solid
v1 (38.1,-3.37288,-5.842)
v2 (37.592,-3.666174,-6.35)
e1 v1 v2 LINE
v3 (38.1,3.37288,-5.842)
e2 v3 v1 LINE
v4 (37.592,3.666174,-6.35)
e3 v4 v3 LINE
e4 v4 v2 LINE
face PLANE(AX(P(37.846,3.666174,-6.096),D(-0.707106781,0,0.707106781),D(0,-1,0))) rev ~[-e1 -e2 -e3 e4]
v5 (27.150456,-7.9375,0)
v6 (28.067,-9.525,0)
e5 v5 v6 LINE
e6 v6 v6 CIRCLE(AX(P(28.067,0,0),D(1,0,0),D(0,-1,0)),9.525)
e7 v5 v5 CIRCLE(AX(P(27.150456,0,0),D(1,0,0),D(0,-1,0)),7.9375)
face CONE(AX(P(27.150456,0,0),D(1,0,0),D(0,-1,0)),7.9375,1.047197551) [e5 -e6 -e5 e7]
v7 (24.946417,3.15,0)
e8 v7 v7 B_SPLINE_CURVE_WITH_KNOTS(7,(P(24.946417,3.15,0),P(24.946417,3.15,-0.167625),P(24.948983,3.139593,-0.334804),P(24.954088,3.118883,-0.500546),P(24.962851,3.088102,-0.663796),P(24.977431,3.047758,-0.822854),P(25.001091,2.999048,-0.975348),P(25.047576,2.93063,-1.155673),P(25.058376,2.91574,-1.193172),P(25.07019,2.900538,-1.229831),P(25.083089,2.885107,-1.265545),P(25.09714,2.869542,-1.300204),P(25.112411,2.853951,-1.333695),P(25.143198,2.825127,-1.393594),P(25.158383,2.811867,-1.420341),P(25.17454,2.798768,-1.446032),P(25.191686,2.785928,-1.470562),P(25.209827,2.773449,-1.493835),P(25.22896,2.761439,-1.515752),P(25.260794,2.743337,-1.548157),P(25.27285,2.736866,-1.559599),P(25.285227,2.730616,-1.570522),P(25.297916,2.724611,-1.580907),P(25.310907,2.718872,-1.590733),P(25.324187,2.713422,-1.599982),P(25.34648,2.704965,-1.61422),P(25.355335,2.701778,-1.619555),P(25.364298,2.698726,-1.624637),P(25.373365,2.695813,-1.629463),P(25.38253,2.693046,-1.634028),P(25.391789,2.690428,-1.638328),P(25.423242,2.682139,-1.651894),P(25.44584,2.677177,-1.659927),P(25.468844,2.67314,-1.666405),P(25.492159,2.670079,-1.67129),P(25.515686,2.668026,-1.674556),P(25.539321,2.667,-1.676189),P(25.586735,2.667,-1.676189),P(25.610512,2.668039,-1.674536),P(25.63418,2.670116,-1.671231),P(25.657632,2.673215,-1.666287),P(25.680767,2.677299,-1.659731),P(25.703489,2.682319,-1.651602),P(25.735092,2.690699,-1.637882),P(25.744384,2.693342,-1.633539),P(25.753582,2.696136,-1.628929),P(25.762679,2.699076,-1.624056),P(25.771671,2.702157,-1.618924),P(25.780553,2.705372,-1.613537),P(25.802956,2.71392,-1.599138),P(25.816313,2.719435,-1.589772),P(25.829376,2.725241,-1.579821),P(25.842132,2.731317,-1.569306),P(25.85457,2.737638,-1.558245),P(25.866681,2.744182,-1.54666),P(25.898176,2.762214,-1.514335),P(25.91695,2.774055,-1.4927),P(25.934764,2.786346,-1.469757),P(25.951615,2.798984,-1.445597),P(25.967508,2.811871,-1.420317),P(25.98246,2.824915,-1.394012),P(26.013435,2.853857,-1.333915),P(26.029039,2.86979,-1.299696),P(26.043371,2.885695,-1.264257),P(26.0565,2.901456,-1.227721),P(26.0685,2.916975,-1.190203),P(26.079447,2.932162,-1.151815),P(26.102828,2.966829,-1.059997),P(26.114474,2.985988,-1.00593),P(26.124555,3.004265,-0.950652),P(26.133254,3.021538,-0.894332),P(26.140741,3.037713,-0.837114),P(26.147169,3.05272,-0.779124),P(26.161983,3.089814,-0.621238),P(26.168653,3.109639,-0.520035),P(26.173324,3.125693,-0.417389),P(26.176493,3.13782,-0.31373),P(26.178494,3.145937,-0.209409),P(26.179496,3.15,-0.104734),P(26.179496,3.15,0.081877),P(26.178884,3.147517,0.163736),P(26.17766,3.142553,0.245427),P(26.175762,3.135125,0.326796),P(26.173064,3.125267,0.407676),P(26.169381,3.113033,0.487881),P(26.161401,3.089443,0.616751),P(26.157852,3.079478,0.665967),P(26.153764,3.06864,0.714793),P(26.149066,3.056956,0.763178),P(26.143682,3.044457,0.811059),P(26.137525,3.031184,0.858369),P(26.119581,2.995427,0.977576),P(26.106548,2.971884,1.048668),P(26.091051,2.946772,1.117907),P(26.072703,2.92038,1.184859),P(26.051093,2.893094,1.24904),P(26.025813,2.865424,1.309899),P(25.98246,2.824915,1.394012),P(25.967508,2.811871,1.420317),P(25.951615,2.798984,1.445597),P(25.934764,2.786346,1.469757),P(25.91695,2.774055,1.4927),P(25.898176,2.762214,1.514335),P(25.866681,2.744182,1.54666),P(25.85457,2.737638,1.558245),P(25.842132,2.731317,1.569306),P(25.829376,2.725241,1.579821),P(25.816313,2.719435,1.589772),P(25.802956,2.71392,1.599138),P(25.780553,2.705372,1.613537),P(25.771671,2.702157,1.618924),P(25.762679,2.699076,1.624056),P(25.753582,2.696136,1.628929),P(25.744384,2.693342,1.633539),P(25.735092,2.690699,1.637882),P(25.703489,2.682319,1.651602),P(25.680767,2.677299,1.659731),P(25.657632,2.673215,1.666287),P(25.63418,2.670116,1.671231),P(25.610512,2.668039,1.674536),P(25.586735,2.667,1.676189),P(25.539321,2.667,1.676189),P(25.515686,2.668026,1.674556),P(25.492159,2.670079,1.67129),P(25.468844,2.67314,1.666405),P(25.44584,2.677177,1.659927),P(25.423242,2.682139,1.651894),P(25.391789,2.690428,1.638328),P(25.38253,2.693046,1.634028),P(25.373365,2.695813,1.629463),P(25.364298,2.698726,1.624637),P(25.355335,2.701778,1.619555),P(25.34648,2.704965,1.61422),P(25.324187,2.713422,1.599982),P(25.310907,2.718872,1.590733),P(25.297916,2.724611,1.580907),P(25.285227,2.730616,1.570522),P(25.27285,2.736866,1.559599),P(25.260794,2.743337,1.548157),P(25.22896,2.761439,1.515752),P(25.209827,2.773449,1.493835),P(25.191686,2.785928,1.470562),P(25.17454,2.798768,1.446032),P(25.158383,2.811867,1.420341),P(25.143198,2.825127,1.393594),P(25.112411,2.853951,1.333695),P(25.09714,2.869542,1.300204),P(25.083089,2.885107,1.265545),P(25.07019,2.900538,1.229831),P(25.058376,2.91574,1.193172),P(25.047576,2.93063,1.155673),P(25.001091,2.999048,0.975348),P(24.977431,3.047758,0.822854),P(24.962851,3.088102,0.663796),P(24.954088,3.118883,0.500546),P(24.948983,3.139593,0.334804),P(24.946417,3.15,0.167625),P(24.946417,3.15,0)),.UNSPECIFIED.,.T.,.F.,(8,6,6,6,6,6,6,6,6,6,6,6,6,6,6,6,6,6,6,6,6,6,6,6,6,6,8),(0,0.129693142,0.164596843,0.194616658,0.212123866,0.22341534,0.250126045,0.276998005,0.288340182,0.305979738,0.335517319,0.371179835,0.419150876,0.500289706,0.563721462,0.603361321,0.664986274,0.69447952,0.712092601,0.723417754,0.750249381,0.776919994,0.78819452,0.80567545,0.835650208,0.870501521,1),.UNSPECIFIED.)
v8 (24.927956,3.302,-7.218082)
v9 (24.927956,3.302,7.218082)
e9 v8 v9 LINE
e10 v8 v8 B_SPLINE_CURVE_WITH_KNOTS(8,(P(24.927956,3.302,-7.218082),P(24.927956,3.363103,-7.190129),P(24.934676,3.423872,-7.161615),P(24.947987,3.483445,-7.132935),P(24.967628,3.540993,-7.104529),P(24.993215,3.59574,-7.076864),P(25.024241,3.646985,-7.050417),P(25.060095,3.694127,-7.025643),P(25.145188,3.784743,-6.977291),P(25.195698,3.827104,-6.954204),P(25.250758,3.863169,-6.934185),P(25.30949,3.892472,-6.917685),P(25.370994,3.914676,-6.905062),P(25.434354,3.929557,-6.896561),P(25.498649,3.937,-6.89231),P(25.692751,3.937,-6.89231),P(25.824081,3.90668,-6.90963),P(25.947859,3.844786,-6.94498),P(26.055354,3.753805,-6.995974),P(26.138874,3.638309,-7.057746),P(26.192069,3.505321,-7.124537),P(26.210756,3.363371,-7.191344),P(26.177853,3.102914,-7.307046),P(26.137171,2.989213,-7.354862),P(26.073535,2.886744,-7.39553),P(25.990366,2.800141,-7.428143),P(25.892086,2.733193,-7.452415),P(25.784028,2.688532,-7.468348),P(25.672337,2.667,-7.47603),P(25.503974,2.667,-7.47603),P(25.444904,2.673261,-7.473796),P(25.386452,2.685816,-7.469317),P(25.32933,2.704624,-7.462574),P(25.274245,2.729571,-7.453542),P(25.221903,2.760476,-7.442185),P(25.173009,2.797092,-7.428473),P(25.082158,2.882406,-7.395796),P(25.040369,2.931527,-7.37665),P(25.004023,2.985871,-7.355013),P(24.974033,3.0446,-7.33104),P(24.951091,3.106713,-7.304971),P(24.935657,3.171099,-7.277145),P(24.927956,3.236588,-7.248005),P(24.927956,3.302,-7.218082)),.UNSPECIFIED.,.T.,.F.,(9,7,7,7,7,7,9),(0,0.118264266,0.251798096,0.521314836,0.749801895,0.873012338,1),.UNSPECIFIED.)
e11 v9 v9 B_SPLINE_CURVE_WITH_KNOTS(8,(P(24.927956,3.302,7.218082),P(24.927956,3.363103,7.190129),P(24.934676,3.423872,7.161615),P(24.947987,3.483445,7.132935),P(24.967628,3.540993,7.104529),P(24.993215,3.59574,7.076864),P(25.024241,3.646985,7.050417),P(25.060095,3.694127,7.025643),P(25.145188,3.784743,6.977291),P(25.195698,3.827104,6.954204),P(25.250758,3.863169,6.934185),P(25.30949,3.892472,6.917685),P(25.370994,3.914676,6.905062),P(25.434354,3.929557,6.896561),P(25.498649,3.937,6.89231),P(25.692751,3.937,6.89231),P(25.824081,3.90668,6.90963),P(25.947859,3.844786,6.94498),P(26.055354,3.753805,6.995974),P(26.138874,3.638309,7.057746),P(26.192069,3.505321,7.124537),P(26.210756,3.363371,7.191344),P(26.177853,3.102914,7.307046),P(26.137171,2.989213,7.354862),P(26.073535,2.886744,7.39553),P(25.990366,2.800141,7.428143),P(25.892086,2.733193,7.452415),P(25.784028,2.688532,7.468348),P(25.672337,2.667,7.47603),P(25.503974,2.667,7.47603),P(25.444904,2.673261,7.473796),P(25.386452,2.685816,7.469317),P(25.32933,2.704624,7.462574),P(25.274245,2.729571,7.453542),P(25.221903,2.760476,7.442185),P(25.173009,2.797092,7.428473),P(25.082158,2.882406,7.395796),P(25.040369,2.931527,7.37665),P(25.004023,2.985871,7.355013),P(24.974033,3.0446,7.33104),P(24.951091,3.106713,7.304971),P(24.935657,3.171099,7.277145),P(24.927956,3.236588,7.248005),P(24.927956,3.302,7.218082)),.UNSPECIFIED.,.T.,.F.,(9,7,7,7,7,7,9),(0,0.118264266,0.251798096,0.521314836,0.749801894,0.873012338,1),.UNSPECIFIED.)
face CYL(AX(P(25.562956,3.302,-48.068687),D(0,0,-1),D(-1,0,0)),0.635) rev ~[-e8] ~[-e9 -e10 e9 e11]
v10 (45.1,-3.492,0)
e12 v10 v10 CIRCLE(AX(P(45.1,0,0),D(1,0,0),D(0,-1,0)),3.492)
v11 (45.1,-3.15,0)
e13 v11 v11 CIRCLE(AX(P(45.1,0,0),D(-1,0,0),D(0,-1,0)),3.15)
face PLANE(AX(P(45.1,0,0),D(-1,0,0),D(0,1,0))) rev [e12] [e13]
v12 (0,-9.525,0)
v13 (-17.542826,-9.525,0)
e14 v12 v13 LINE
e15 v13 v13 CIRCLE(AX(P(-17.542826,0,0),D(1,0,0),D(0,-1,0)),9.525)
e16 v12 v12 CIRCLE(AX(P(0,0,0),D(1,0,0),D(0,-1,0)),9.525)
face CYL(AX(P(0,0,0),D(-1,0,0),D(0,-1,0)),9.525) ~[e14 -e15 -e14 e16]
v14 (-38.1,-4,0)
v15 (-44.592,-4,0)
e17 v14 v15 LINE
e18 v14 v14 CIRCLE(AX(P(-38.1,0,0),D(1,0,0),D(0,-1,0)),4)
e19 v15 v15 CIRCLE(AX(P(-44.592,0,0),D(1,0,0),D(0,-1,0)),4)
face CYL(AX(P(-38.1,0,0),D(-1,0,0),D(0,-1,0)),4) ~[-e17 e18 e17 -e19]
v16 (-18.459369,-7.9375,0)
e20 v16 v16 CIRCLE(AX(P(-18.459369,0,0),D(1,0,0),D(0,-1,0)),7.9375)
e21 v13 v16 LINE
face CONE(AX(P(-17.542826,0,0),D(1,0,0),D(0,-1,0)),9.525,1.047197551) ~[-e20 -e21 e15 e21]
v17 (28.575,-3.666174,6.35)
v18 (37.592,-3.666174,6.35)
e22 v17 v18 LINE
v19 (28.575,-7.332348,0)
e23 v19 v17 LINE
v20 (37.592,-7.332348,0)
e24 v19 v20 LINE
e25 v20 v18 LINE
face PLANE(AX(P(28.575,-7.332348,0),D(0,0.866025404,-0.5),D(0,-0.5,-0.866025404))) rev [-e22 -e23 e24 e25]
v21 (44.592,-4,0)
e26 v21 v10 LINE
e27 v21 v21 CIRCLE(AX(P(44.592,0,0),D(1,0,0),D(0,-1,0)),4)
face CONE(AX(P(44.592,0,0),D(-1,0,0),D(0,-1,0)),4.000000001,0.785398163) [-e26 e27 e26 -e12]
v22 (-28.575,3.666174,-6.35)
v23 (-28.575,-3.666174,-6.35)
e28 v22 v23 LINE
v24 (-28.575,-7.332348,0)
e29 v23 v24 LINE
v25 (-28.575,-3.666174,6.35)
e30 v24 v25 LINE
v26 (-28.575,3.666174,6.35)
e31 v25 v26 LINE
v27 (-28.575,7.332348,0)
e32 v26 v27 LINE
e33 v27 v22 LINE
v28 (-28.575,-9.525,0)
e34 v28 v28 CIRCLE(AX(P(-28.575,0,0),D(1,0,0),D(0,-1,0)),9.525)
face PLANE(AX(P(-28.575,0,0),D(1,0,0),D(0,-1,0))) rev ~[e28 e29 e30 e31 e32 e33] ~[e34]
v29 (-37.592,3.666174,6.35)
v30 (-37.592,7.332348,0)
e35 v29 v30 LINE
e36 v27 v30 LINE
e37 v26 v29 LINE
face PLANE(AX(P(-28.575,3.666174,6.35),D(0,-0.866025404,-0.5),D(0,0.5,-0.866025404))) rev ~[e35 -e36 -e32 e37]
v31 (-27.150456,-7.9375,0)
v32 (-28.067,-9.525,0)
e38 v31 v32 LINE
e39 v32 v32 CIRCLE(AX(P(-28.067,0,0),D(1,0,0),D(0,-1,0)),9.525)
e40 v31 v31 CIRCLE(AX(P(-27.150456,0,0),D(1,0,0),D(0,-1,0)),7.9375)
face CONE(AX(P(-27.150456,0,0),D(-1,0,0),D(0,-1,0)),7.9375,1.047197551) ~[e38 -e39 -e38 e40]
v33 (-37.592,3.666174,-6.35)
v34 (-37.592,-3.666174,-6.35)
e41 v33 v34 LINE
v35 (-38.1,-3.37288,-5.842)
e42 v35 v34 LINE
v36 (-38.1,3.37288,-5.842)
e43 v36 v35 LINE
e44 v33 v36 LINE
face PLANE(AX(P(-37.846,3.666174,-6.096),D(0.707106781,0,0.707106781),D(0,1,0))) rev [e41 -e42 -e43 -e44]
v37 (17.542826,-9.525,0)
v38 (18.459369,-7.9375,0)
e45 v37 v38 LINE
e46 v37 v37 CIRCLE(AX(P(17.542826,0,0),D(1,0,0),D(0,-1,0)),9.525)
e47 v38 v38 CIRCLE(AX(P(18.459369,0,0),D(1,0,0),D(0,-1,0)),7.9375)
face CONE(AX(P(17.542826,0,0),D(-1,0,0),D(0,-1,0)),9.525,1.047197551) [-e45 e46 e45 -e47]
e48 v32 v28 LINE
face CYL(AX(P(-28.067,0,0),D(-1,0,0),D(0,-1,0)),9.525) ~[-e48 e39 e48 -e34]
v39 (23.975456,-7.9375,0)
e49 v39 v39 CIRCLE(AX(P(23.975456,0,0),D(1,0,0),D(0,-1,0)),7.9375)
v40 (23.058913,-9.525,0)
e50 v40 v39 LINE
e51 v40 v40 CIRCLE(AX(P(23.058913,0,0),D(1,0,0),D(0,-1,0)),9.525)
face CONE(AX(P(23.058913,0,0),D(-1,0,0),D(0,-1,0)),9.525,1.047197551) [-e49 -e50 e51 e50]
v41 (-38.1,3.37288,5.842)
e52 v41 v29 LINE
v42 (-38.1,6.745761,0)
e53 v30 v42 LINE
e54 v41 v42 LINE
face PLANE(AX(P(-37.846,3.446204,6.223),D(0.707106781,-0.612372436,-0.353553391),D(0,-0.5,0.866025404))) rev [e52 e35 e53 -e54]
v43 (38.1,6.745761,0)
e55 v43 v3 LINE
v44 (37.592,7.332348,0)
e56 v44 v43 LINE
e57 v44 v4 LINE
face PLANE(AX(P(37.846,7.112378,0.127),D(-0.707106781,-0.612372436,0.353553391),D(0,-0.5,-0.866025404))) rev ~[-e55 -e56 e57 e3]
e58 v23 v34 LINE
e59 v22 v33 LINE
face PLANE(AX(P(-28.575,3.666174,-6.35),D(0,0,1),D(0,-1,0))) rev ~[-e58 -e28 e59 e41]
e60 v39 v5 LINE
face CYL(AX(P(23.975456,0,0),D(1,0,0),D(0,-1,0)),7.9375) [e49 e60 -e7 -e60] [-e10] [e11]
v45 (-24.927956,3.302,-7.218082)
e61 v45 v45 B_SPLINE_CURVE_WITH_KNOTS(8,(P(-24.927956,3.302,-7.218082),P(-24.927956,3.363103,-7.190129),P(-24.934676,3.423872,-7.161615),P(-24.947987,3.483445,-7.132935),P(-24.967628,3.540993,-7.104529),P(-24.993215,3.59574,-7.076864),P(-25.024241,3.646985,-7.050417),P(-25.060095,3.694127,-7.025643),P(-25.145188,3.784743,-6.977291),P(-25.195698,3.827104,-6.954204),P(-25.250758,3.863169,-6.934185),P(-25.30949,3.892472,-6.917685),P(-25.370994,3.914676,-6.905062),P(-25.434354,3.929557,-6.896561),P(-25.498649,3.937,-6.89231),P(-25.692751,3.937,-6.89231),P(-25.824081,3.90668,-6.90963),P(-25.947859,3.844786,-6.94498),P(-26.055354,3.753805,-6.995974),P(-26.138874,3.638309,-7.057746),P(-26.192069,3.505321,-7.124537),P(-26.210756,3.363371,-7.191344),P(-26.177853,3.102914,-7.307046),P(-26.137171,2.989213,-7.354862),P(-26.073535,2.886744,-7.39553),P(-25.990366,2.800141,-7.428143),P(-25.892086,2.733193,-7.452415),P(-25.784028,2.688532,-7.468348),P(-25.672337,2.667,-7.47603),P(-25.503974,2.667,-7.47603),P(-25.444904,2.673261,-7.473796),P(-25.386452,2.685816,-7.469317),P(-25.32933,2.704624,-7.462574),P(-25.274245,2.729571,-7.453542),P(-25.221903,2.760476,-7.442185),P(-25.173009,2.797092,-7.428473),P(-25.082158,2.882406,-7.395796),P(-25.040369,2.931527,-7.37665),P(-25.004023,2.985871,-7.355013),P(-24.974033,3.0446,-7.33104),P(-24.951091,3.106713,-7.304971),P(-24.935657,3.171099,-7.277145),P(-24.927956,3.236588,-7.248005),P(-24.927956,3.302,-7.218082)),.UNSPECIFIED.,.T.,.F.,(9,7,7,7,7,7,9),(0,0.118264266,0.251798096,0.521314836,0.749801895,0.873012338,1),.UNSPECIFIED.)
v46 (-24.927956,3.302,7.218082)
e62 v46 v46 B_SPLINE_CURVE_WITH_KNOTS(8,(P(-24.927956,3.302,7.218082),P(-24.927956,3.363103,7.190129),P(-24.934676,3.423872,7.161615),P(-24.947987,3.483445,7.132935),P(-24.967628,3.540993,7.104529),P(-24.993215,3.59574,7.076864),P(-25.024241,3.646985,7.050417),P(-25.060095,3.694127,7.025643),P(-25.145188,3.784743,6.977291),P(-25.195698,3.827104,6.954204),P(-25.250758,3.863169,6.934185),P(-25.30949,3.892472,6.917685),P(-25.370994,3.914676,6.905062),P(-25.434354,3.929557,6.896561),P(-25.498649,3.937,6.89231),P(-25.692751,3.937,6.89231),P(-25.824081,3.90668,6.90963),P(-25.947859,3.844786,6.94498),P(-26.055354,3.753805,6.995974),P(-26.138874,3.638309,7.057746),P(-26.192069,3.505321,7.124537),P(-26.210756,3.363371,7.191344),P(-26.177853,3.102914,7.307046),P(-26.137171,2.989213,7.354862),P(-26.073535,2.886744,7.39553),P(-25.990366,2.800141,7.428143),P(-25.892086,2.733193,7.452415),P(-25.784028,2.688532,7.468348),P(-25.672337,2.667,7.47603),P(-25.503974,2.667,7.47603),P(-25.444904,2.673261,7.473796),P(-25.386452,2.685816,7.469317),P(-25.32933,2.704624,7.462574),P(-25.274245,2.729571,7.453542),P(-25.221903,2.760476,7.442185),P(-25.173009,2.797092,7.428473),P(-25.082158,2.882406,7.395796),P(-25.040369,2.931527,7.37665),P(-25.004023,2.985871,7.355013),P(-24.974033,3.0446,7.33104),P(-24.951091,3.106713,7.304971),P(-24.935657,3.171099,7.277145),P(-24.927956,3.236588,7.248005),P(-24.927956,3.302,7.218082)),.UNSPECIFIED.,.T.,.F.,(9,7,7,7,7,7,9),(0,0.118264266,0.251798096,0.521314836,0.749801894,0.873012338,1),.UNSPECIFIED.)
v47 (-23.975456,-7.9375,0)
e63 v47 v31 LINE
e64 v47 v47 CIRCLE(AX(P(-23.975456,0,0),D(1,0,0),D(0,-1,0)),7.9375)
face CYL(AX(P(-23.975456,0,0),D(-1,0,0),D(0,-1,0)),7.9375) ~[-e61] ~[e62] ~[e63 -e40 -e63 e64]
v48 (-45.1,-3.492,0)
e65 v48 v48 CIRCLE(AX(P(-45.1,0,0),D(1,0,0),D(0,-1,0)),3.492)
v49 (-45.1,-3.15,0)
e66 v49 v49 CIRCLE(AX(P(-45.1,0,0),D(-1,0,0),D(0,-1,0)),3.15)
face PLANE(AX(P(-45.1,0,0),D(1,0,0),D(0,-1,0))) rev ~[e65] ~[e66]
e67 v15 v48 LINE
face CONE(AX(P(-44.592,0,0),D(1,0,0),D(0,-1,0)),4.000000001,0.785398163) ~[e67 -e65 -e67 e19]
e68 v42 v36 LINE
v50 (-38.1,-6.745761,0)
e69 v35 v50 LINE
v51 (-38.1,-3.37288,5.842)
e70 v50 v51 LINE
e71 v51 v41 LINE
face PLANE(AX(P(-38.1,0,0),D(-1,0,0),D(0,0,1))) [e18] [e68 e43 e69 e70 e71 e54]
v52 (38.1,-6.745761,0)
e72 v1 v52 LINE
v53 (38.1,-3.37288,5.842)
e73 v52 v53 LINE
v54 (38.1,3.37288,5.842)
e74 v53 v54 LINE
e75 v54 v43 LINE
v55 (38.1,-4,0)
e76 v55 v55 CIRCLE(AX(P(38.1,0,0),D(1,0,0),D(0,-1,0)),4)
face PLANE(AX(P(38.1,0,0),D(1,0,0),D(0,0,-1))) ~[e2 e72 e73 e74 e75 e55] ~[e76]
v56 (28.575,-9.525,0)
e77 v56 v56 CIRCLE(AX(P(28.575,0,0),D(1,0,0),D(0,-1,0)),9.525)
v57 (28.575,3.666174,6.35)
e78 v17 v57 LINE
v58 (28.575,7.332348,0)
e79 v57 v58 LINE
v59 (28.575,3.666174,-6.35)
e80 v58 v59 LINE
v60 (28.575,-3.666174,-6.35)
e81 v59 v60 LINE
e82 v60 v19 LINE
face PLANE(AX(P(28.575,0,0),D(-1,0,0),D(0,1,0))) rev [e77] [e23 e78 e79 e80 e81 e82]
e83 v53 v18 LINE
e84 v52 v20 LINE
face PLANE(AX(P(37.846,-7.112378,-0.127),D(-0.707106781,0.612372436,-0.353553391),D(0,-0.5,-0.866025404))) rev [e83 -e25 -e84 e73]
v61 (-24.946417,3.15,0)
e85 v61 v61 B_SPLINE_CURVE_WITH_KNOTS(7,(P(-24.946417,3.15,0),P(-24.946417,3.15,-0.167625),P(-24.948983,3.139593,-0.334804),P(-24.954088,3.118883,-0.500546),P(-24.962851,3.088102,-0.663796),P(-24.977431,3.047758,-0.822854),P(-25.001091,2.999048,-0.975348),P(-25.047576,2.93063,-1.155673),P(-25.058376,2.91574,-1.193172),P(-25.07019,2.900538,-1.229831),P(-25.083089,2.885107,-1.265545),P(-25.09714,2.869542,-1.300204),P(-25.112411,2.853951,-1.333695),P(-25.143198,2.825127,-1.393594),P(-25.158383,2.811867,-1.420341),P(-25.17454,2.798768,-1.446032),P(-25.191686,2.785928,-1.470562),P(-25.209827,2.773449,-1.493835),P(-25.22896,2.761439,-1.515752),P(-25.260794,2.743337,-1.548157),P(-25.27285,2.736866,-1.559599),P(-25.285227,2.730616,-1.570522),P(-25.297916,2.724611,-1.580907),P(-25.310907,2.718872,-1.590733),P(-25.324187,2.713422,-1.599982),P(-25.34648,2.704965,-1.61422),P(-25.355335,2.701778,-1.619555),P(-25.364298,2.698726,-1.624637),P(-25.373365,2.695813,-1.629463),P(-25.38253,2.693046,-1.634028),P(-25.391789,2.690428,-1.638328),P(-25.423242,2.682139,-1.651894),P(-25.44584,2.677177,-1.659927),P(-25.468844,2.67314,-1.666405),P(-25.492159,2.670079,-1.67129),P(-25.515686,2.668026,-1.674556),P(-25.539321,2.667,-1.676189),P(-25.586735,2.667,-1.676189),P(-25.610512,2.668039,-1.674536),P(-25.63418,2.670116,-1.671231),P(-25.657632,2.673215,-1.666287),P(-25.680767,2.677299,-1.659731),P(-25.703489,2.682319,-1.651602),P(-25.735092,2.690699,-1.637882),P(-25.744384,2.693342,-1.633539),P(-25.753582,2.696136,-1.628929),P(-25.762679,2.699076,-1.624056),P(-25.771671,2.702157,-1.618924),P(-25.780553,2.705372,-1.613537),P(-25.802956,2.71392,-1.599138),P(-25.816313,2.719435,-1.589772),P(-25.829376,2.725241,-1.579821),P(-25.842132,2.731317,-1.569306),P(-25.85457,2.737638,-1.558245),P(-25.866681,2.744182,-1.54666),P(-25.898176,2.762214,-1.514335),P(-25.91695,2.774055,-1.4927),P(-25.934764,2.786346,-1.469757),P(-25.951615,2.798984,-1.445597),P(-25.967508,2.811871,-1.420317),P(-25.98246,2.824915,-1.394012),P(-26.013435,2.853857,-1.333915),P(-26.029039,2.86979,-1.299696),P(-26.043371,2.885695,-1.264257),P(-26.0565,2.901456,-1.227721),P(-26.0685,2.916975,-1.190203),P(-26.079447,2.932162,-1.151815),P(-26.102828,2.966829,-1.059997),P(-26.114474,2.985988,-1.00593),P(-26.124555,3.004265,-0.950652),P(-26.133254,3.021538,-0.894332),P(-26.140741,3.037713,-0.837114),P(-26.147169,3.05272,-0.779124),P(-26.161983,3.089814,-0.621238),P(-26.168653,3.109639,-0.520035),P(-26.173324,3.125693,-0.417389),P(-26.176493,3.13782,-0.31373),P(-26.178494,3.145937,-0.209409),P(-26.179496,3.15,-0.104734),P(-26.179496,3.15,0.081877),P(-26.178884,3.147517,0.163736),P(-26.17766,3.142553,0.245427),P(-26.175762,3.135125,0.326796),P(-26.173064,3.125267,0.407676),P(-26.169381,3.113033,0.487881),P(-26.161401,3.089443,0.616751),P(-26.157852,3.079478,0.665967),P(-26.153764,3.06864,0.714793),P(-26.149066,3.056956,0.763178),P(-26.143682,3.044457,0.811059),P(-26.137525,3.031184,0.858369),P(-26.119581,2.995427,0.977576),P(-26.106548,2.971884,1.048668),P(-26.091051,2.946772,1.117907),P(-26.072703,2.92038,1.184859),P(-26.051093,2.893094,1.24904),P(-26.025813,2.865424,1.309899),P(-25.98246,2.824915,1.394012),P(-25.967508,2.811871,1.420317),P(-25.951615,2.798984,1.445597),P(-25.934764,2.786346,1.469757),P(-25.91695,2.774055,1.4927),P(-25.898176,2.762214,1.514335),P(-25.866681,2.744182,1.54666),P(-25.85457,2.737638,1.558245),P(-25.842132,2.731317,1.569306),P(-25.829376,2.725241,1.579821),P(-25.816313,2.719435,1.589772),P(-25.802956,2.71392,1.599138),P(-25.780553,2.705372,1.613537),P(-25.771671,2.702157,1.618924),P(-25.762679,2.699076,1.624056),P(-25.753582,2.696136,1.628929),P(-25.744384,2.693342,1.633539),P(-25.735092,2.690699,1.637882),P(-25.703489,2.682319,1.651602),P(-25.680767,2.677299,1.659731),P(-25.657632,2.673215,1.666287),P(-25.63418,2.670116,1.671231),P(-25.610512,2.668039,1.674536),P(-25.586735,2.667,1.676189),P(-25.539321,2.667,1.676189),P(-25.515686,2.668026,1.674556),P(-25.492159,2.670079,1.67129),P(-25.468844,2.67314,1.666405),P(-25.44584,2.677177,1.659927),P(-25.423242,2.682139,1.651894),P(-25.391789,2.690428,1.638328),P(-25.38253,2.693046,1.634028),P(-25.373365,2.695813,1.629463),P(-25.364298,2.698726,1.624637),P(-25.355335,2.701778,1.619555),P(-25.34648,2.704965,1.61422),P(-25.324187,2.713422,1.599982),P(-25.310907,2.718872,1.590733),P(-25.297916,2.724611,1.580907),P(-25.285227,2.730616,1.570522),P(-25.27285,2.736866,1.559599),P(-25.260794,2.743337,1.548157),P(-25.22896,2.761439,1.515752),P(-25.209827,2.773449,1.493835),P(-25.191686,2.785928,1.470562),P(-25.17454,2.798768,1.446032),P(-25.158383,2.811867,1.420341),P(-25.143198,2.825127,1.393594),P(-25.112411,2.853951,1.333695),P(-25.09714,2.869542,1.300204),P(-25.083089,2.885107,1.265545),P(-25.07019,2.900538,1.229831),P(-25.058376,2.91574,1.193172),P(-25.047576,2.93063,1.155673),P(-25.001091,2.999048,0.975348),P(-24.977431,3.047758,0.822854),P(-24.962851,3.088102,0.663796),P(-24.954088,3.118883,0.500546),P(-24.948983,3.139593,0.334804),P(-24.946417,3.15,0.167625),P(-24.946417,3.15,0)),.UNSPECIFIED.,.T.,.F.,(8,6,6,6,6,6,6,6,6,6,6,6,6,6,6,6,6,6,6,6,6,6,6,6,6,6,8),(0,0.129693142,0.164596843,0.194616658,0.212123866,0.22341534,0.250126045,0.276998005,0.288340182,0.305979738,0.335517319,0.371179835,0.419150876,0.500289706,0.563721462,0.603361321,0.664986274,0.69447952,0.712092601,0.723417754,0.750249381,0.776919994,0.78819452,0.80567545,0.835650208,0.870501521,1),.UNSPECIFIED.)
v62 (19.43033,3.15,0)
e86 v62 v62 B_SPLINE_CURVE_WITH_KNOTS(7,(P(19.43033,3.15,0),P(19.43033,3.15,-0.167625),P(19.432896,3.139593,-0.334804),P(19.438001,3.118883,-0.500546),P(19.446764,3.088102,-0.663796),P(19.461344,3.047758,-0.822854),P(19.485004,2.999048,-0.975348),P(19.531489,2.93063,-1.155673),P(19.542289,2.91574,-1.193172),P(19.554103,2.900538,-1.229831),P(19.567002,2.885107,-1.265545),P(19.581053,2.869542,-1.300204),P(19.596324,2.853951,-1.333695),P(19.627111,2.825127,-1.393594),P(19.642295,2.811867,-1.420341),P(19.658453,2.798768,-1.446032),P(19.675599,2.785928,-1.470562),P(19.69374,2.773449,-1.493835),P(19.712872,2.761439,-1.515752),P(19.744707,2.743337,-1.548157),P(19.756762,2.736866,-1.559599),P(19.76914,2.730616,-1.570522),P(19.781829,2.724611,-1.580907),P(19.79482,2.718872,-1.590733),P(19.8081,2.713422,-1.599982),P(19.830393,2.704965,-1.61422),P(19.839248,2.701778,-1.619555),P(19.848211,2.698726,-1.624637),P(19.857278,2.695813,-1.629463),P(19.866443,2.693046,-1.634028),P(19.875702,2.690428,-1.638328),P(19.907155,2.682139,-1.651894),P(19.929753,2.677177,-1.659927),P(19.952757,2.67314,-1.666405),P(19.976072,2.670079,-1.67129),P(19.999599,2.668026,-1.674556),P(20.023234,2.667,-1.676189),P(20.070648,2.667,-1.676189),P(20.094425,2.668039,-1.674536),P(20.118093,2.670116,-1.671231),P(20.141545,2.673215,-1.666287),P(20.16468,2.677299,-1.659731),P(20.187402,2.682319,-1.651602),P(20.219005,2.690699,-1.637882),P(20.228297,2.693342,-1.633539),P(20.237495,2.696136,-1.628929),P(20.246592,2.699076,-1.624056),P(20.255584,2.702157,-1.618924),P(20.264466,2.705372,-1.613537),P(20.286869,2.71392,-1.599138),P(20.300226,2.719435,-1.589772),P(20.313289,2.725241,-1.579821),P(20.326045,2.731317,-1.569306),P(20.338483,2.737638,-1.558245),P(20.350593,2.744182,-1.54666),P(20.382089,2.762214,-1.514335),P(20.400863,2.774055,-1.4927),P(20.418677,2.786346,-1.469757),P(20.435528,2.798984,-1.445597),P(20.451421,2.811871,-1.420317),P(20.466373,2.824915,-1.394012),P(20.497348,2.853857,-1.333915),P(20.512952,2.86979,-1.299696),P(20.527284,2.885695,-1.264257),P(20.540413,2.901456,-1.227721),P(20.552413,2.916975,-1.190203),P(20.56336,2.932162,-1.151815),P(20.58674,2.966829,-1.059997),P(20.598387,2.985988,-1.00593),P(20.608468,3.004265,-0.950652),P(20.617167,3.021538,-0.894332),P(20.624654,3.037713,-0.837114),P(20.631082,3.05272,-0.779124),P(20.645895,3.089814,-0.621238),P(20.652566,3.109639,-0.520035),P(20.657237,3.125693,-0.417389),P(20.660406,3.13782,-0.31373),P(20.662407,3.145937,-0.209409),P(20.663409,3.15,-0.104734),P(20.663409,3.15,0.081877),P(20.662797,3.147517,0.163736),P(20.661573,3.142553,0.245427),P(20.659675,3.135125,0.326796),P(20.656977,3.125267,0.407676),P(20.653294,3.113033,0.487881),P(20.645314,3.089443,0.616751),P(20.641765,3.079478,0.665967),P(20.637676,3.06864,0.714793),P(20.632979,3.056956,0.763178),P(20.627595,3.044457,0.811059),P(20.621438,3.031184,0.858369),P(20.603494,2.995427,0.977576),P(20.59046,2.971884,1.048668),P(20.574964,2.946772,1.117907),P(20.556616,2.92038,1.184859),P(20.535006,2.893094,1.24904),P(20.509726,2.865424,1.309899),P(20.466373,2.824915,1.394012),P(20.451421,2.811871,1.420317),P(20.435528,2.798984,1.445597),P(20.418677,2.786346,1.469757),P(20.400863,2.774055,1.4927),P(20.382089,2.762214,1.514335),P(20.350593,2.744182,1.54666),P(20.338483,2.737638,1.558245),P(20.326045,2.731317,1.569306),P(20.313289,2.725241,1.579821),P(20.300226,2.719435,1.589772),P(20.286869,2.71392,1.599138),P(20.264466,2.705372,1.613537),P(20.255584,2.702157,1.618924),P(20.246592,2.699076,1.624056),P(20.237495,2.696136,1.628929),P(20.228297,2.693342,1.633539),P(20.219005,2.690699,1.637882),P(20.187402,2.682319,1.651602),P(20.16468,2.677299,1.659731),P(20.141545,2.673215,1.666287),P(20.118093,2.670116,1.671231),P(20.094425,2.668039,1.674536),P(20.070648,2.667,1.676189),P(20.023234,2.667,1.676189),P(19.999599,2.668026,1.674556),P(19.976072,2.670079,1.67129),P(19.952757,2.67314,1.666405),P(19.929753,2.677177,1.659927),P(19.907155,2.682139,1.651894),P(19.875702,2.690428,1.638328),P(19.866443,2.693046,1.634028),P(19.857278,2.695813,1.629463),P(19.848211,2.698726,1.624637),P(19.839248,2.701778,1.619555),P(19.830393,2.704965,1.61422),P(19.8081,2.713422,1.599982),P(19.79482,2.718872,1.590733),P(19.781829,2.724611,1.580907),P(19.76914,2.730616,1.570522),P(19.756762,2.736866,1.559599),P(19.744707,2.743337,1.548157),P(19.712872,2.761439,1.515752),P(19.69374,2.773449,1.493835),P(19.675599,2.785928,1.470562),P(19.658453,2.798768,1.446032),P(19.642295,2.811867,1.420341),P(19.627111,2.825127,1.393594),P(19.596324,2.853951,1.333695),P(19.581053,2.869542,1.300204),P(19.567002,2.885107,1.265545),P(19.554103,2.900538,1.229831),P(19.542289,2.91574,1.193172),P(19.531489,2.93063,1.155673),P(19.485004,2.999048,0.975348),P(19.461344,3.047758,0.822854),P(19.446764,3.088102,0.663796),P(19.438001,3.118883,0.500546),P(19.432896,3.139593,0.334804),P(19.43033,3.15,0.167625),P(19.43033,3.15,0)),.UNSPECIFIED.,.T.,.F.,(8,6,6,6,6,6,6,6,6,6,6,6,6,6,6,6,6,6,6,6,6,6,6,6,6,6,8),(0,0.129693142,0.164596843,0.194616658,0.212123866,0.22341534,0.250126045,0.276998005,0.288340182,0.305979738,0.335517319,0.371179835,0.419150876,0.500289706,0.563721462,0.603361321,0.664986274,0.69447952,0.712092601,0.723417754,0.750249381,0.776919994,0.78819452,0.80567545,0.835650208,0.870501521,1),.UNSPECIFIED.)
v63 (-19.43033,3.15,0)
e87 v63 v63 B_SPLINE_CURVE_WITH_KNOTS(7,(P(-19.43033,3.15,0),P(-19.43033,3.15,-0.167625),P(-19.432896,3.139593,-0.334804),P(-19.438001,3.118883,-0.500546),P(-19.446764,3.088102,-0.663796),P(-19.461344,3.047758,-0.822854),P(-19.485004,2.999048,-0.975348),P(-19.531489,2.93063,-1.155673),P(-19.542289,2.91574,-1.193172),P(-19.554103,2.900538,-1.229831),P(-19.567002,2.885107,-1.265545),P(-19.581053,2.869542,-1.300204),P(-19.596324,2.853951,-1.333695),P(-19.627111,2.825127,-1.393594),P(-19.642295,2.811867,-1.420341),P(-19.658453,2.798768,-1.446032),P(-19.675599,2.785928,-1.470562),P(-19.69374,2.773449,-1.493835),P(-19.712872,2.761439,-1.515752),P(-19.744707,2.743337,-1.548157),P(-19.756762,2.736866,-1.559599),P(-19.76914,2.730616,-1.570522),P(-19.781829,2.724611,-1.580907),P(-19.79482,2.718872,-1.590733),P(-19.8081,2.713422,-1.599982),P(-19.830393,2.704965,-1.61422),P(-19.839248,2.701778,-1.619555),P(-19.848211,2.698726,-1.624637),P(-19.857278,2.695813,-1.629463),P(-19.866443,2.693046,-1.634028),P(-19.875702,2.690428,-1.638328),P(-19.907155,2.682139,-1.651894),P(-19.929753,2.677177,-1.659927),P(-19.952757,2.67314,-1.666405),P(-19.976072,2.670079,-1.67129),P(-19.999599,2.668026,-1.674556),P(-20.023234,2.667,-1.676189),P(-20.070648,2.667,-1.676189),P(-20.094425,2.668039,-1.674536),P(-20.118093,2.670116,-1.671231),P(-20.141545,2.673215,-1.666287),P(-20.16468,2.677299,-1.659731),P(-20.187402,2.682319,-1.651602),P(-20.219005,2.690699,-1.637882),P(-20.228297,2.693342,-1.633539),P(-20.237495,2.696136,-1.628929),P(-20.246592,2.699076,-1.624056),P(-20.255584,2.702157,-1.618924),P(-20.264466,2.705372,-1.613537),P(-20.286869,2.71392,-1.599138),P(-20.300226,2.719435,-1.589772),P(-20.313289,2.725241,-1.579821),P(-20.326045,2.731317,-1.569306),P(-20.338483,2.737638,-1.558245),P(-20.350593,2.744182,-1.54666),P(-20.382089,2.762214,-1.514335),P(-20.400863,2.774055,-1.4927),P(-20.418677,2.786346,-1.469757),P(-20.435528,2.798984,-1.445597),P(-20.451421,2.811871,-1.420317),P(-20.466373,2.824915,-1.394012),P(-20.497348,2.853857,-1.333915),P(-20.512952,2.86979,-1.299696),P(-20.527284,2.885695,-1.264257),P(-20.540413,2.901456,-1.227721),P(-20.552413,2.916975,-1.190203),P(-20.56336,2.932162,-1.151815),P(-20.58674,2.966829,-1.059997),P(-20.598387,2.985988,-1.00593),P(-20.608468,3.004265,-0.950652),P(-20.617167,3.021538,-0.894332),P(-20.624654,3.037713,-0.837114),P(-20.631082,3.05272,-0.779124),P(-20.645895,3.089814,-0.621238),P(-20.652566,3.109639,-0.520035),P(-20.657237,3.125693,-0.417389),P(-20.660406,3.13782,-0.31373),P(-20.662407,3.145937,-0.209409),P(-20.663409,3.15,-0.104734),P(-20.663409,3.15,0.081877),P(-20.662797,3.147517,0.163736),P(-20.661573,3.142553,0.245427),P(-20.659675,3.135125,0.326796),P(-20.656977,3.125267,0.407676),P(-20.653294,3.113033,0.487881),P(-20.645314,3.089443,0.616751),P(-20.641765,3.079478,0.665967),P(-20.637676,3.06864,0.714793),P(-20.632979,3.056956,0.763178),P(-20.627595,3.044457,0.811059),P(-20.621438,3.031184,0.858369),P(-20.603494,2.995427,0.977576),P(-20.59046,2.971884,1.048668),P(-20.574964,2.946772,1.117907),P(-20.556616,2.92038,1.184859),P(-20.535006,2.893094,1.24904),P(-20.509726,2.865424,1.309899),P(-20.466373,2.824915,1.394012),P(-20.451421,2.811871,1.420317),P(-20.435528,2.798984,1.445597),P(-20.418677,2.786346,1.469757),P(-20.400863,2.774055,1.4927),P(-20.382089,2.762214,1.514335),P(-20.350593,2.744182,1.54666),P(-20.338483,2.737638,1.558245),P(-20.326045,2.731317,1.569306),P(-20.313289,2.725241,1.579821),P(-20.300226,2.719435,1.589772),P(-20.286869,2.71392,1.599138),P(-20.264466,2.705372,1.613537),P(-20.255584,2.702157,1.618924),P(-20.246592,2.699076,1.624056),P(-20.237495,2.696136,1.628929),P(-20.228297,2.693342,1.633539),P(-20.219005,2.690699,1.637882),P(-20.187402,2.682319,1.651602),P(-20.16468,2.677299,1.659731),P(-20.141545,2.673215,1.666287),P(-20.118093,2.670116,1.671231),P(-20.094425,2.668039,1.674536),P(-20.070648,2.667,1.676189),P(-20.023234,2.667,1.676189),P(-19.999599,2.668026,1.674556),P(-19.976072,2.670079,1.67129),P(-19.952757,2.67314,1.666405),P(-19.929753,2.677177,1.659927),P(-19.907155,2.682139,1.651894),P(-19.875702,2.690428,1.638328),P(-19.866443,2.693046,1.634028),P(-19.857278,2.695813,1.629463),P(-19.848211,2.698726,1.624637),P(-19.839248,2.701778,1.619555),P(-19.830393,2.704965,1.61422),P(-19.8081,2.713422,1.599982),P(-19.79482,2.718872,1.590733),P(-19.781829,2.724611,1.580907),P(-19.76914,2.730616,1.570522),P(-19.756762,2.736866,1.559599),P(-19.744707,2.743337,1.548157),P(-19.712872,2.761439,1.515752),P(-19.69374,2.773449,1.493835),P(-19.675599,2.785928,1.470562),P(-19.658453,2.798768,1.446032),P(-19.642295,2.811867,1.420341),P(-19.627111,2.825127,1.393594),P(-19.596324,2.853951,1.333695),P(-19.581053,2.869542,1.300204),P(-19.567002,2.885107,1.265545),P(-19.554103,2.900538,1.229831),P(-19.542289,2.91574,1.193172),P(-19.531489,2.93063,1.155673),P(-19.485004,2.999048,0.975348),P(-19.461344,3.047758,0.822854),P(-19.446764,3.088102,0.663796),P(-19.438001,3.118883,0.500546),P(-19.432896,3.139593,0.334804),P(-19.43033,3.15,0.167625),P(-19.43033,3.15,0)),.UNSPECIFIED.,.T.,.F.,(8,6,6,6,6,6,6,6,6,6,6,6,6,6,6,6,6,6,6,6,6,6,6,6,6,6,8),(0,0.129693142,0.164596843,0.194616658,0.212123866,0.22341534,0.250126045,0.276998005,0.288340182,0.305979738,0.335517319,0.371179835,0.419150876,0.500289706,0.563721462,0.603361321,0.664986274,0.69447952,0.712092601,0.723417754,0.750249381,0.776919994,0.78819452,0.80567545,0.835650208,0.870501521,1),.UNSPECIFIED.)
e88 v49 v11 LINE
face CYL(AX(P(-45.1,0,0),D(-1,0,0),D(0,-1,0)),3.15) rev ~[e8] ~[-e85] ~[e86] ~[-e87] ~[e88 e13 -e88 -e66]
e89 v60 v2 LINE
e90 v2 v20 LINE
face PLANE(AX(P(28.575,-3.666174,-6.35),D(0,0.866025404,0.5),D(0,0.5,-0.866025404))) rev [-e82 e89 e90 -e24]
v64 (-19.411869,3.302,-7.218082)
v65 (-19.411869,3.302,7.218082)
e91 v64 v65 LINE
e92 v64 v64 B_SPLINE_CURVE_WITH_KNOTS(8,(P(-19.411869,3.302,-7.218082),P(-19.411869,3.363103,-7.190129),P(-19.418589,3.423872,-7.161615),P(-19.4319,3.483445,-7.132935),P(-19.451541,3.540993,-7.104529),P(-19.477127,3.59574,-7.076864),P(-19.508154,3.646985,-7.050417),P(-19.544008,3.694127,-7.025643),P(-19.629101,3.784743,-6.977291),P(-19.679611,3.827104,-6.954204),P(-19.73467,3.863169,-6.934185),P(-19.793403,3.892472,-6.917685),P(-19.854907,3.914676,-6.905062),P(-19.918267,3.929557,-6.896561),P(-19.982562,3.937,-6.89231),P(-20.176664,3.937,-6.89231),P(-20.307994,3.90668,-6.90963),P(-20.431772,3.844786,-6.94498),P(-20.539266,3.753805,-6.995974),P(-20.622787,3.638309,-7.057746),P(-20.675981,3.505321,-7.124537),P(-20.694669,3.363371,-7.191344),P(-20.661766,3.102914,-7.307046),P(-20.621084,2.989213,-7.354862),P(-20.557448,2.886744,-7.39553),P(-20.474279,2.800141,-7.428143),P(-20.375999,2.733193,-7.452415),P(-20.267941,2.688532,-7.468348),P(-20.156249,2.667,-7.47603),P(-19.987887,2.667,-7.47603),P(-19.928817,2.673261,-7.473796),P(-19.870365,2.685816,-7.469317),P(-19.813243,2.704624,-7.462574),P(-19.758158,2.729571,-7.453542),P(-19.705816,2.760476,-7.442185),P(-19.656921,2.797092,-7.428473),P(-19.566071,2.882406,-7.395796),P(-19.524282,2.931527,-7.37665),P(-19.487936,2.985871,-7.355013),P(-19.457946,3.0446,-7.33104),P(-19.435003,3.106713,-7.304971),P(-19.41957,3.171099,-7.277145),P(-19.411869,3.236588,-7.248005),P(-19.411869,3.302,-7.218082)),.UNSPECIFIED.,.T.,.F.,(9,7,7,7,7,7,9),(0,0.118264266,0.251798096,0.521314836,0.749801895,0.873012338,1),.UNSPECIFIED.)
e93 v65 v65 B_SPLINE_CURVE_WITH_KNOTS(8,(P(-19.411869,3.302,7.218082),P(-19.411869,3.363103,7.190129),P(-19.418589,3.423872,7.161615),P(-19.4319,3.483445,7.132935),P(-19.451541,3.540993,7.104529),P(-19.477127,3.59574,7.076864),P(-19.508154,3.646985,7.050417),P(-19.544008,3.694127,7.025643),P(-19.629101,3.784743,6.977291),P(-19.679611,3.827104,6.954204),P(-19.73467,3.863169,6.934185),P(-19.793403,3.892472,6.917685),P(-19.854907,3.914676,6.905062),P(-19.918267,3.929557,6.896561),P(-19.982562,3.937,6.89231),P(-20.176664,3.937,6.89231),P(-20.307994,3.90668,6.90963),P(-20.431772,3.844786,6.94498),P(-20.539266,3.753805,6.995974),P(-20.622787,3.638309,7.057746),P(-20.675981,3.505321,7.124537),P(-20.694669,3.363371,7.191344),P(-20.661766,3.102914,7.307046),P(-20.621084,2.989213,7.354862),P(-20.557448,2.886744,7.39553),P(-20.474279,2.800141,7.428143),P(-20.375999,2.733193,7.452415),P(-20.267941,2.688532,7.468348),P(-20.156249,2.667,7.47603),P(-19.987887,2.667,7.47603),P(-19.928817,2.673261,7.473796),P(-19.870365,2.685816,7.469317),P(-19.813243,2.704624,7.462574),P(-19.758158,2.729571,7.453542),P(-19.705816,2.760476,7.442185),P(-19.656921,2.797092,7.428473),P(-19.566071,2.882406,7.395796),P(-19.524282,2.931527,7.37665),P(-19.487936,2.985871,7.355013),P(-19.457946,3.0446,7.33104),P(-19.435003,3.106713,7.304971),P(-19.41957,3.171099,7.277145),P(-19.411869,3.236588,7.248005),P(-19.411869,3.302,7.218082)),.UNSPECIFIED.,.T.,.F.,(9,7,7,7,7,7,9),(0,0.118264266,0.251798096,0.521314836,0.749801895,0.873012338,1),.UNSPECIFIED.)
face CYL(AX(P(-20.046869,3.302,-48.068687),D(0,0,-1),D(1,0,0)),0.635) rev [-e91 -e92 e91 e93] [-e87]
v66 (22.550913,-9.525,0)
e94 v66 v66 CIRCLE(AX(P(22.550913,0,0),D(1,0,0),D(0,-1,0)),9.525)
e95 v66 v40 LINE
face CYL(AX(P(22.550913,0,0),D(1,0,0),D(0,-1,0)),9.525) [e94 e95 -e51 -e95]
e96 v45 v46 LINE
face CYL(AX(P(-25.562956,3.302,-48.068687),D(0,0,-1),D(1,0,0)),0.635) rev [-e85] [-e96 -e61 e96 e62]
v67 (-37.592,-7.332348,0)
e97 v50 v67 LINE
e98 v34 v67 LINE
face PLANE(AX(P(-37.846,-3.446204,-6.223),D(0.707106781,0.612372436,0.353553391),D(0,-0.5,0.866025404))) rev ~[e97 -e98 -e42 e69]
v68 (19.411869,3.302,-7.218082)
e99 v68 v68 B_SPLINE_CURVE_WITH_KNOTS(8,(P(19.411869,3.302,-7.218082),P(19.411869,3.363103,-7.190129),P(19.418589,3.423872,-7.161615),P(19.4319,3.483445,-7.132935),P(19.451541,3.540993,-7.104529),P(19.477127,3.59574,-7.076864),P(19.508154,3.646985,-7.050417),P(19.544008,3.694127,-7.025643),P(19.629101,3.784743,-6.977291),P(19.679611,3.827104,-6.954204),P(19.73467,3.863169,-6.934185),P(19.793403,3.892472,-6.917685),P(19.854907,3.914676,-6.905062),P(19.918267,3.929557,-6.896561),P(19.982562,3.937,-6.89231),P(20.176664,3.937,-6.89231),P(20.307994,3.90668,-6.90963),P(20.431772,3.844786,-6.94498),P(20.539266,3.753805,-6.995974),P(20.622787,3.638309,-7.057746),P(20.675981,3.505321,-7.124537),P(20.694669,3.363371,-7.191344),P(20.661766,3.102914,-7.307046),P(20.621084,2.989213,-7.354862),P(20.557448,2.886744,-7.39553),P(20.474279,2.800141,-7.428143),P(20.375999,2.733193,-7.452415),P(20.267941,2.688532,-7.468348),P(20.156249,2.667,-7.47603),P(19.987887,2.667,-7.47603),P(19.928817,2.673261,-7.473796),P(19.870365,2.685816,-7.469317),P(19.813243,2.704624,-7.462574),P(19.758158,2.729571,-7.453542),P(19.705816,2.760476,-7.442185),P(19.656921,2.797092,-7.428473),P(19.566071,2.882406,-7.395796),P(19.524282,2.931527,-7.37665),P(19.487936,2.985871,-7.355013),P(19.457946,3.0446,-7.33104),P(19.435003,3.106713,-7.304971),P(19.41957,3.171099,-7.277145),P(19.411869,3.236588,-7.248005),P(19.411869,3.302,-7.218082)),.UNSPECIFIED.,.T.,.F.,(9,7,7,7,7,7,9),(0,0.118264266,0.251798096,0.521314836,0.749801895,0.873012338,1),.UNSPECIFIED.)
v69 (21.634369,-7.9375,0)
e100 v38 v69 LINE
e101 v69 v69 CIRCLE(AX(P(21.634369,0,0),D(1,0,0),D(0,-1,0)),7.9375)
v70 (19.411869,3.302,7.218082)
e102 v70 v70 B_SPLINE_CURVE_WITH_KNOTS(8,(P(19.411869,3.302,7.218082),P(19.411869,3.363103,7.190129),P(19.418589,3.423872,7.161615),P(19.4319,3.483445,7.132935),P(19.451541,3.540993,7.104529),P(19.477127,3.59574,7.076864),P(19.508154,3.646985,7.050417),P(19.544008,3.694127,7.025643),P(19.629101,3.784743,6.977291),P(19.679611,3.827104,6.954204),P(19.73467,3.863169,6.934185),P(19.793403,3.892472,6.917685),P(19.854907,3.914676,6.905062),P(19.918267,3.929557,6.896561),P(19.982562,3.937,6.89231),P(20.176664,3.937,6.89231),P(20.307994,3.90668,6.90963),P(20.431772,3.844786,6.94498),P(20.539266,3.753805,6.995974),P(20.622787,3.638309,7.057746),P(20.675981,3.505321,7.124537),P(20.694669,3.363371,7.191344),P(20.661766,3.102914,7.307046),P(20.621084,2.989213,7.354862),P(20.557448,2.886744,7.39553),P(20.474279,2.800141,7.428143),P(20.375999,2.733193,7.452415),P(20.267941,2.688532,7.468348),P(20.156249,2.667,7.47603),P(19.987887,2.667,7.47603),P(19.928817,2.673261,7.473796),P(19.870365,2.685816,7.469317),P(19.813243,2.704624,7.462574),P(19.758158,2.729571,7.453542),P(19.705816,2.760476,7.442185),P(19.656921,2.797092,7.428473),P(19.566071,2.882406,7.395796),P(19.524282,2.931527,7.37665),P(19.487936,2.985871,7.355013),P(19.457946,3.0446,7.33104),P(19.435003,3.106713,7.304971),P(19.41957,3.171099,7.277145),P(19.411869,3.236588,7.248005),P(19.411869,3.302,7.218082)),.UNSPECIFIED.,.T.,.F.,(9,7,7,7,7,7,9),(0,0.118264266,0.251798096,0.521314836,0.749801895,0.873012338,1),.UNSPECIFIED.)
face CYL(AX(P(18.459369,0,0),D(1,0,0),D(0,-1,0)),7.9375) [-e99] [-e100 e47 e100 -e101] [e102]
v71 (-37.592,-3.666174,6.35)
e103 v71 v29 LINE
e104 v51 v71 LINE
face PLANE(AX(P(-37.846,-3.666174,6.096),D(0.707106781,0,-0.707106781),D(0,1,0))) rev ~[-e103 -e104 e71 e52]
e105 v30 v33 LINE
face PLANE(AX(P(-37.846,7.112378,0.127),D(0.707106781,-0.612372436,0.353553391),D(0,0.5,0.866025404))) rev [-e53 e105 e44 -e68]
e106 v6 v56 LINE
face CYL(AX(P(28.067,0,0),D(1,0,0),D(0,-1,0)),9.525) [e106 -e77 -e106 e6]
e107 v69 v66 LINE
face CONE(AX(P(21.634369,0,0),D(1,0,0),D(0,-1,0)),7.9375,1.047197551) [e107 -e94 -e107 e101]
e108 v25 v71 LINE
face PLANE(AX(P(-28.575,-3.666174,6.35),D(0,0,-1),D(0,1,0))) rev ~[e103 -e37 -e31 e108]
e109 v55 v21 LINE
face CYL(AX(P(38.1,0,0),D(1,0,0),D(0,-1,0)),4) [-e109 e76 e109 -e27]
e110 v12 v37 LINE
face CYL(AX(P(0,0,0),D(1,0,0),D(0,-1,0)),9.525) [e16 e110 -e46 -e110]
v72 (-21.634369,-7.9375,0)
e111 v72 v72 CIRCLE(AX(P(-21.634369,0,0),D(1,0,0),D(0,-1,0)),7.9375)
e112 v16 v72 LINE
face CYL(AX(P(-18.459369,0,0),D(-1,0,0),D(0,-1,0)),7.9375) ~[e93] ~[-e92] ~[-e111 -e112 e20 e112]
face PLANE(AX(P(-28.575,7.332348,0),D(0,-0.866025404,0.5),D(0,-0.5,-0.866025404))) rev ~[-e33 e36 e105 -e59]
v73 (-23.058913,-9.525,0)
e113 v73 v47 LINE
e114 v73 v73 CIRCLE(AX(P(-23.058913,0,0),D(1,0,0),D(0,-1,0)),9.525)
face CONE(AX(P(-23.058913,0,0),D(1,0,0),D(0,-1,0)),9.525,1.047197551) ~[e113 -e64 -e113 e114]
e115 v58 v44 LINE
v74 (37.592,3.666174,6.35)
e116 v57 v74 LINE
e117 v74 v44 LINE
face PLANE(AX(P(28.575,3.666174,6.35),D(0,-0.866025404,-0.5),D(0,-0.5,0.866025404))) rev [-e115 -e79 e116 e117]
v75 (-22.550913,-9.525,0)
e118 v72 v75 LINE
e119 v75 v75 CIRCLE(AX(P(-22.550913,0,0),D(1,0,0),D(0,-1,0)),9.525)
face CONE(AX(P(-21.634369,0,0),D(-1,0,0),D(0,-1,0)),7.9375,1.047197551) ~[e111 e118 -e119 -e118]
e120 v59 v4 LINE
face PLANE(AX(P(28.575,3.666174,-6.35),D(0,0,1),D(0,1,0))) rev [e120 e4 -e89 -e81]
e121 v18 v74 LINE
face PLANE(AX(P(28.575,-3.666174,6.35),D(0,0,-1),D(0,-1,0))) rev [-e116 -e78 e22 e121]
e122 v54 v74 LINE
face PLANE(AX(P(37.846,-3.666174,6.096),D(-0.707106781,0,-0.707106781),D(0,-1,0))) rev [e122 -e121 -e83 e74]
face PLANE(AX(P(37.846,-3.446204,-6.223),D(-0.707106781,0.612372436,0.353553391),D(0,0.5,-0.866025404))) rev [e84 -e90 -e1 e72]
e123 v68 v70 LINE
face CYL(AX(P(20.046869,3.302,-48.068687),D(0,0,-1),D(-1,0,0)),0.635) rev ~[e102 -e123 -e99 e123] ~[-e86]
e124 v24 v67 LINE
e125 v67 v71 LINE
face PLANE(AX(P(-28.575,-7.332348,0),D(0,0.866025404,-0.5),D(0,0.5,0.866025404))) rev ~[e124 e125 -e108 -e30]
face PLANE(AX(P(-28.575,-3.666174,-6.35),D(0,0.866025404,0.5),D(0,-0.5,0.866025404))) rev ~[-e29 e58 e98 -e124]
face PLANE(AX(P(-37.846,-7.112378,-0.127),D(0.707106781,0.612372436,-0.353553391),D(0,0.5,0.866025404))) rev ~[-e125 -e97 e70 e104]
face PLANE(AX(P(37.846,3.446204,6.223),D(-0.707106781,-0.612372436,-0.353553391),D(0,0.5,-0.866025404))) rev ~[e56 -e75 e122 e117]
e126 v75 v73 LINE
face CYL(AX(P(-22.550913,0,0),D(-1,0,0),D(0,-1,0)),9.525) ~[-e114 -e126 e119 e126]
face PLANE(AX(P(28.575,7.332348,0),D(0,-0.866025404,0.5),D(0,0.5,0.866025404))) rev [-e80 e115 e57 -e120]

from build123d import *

# Parameters (mm, degrees)
BOSS_EXTRUDE4_DEPTH     = 9.525
CUT_EXTRUDE1_DEPTH      = 48.068686512
CUT_EXTRUDE1_DEPTH_BACK = 48.068686512
SKETCH6_R               = 0.635
CHAMFER2_SIZE           = 0.508
CHAMFER3_SIZE           = 0.508
SKETCH7_R               = 3.149999923
CUT_EXTRUDE2_DEPTH      = 92.200280975


with BuildPart() as part:
    # Sketch1 → Revolve1 (revolve)
    with BuildSketch(Plane.XY, mode=Mode.PRIVATE) as revolve1_sk:
        Polygon((-27.150456448, 7.9375), (-28.067, 9.525), (-28.575, 9.525), (-28.575, 4.254000001), (-38.1, 4.254000001), (-38.1, 4.000000001), (-45.1, 4.000000001), (-45.1, 1.599999975), (-35.275, 1.599999975), (-33.675000025, 0), (-28.575, 0), (0, 0), (0, 9.525), (-17.542825791, 9.525), (-18.459369343, 7.9375), (-21.634369343, 7.9375), (-22.550912895, 9.525), (-23.058912895, 9.525), (-23.975456448, 7.9375), align=None)
    revolve(revolve1_sk.sketch.rotate(Axis((-38.1, 0, 0), (1, 0, 0)), 180), axis=Axis((-38.1, 0, 0), (1, 0, 0)))

    # Sketch4 → Boss-Extrude4 (add)
    with BuildSketch(Plane.ZY.offset(28.575)):
        Polygon((0, 7.332348419), (-6.35, 3.666174209), (-6.35, -3.666174209), (0, -7.332348419), (6.35, -3.666174209), (6.35, 3.666174209), align=None)
    extrude(amount=BOSS_EXTRUDE4_DEPTH)

    # Sketch6 → Cut-Extrude1 (cut, two sides: drawn at the far end of the back side and taken through both)
    with BuildSketch(Plane.XY.offset(-CUT_EXTRUDE1_DEPTH_BACK)):
        with Locations((-25.562956448, 3.302)):
            Circle(SKETCH6_R)
        with Locations((-20.046869343, 3.302)):
            Circle(SKETCH6_R)
    extrude(amount=CUT_EXTRUDE1_DEPTH + CUT_EXTRUDE1_DEPTH_BACK, mode=Mode.SUBTRACT)

    # Chamfer2
    chamfer2_edges = [part.edges().sort_by_distance(p)[0] for p in [
        (-38.1, 0, 6.35),
        (-38.1, -5.499261314, 3.175),
        (-38.1, -5.499261314, -3.175),
        (-38.1, 0, -6.35),
        (-38.1, 5.499261314, -3.175),
        (-38.1, 5.499261314, 3.175),
    ]]
    chamfer(chamfer2_edges, length=CHAMFER2_SIZE)

    # Chamfer3
    chamfer3_edges = [part.edges().sort_by_distance(p)[0] for p in [
        (-45.1, 4.000000001, 0),
    ]]
    chamfer(chamfer3_edges, length=CHAMFER3_SIZE)

    # Mirror2: part across plane


with BuildPart() as part_1:
    add(part.part)
    add(part.part.mirror(Plane(origin=(0, 0, 0), x_dir=(0, 0, 1), z_dir=(1, 0, 0))))

    # Sketch7 → Cut-Extrude2 (cut, through all)
    with BuildSketch(Plane.ZY.offset(45.1)):
        with Locations(Location((0, 0, 0), (0, 0, 270))):
            Circle(SKETCH7_R)
    extrude(amount=-CUT_EXTRUDE2_DEPTH, mode=Mode.SUBTRACT)


solid = part_1.part
